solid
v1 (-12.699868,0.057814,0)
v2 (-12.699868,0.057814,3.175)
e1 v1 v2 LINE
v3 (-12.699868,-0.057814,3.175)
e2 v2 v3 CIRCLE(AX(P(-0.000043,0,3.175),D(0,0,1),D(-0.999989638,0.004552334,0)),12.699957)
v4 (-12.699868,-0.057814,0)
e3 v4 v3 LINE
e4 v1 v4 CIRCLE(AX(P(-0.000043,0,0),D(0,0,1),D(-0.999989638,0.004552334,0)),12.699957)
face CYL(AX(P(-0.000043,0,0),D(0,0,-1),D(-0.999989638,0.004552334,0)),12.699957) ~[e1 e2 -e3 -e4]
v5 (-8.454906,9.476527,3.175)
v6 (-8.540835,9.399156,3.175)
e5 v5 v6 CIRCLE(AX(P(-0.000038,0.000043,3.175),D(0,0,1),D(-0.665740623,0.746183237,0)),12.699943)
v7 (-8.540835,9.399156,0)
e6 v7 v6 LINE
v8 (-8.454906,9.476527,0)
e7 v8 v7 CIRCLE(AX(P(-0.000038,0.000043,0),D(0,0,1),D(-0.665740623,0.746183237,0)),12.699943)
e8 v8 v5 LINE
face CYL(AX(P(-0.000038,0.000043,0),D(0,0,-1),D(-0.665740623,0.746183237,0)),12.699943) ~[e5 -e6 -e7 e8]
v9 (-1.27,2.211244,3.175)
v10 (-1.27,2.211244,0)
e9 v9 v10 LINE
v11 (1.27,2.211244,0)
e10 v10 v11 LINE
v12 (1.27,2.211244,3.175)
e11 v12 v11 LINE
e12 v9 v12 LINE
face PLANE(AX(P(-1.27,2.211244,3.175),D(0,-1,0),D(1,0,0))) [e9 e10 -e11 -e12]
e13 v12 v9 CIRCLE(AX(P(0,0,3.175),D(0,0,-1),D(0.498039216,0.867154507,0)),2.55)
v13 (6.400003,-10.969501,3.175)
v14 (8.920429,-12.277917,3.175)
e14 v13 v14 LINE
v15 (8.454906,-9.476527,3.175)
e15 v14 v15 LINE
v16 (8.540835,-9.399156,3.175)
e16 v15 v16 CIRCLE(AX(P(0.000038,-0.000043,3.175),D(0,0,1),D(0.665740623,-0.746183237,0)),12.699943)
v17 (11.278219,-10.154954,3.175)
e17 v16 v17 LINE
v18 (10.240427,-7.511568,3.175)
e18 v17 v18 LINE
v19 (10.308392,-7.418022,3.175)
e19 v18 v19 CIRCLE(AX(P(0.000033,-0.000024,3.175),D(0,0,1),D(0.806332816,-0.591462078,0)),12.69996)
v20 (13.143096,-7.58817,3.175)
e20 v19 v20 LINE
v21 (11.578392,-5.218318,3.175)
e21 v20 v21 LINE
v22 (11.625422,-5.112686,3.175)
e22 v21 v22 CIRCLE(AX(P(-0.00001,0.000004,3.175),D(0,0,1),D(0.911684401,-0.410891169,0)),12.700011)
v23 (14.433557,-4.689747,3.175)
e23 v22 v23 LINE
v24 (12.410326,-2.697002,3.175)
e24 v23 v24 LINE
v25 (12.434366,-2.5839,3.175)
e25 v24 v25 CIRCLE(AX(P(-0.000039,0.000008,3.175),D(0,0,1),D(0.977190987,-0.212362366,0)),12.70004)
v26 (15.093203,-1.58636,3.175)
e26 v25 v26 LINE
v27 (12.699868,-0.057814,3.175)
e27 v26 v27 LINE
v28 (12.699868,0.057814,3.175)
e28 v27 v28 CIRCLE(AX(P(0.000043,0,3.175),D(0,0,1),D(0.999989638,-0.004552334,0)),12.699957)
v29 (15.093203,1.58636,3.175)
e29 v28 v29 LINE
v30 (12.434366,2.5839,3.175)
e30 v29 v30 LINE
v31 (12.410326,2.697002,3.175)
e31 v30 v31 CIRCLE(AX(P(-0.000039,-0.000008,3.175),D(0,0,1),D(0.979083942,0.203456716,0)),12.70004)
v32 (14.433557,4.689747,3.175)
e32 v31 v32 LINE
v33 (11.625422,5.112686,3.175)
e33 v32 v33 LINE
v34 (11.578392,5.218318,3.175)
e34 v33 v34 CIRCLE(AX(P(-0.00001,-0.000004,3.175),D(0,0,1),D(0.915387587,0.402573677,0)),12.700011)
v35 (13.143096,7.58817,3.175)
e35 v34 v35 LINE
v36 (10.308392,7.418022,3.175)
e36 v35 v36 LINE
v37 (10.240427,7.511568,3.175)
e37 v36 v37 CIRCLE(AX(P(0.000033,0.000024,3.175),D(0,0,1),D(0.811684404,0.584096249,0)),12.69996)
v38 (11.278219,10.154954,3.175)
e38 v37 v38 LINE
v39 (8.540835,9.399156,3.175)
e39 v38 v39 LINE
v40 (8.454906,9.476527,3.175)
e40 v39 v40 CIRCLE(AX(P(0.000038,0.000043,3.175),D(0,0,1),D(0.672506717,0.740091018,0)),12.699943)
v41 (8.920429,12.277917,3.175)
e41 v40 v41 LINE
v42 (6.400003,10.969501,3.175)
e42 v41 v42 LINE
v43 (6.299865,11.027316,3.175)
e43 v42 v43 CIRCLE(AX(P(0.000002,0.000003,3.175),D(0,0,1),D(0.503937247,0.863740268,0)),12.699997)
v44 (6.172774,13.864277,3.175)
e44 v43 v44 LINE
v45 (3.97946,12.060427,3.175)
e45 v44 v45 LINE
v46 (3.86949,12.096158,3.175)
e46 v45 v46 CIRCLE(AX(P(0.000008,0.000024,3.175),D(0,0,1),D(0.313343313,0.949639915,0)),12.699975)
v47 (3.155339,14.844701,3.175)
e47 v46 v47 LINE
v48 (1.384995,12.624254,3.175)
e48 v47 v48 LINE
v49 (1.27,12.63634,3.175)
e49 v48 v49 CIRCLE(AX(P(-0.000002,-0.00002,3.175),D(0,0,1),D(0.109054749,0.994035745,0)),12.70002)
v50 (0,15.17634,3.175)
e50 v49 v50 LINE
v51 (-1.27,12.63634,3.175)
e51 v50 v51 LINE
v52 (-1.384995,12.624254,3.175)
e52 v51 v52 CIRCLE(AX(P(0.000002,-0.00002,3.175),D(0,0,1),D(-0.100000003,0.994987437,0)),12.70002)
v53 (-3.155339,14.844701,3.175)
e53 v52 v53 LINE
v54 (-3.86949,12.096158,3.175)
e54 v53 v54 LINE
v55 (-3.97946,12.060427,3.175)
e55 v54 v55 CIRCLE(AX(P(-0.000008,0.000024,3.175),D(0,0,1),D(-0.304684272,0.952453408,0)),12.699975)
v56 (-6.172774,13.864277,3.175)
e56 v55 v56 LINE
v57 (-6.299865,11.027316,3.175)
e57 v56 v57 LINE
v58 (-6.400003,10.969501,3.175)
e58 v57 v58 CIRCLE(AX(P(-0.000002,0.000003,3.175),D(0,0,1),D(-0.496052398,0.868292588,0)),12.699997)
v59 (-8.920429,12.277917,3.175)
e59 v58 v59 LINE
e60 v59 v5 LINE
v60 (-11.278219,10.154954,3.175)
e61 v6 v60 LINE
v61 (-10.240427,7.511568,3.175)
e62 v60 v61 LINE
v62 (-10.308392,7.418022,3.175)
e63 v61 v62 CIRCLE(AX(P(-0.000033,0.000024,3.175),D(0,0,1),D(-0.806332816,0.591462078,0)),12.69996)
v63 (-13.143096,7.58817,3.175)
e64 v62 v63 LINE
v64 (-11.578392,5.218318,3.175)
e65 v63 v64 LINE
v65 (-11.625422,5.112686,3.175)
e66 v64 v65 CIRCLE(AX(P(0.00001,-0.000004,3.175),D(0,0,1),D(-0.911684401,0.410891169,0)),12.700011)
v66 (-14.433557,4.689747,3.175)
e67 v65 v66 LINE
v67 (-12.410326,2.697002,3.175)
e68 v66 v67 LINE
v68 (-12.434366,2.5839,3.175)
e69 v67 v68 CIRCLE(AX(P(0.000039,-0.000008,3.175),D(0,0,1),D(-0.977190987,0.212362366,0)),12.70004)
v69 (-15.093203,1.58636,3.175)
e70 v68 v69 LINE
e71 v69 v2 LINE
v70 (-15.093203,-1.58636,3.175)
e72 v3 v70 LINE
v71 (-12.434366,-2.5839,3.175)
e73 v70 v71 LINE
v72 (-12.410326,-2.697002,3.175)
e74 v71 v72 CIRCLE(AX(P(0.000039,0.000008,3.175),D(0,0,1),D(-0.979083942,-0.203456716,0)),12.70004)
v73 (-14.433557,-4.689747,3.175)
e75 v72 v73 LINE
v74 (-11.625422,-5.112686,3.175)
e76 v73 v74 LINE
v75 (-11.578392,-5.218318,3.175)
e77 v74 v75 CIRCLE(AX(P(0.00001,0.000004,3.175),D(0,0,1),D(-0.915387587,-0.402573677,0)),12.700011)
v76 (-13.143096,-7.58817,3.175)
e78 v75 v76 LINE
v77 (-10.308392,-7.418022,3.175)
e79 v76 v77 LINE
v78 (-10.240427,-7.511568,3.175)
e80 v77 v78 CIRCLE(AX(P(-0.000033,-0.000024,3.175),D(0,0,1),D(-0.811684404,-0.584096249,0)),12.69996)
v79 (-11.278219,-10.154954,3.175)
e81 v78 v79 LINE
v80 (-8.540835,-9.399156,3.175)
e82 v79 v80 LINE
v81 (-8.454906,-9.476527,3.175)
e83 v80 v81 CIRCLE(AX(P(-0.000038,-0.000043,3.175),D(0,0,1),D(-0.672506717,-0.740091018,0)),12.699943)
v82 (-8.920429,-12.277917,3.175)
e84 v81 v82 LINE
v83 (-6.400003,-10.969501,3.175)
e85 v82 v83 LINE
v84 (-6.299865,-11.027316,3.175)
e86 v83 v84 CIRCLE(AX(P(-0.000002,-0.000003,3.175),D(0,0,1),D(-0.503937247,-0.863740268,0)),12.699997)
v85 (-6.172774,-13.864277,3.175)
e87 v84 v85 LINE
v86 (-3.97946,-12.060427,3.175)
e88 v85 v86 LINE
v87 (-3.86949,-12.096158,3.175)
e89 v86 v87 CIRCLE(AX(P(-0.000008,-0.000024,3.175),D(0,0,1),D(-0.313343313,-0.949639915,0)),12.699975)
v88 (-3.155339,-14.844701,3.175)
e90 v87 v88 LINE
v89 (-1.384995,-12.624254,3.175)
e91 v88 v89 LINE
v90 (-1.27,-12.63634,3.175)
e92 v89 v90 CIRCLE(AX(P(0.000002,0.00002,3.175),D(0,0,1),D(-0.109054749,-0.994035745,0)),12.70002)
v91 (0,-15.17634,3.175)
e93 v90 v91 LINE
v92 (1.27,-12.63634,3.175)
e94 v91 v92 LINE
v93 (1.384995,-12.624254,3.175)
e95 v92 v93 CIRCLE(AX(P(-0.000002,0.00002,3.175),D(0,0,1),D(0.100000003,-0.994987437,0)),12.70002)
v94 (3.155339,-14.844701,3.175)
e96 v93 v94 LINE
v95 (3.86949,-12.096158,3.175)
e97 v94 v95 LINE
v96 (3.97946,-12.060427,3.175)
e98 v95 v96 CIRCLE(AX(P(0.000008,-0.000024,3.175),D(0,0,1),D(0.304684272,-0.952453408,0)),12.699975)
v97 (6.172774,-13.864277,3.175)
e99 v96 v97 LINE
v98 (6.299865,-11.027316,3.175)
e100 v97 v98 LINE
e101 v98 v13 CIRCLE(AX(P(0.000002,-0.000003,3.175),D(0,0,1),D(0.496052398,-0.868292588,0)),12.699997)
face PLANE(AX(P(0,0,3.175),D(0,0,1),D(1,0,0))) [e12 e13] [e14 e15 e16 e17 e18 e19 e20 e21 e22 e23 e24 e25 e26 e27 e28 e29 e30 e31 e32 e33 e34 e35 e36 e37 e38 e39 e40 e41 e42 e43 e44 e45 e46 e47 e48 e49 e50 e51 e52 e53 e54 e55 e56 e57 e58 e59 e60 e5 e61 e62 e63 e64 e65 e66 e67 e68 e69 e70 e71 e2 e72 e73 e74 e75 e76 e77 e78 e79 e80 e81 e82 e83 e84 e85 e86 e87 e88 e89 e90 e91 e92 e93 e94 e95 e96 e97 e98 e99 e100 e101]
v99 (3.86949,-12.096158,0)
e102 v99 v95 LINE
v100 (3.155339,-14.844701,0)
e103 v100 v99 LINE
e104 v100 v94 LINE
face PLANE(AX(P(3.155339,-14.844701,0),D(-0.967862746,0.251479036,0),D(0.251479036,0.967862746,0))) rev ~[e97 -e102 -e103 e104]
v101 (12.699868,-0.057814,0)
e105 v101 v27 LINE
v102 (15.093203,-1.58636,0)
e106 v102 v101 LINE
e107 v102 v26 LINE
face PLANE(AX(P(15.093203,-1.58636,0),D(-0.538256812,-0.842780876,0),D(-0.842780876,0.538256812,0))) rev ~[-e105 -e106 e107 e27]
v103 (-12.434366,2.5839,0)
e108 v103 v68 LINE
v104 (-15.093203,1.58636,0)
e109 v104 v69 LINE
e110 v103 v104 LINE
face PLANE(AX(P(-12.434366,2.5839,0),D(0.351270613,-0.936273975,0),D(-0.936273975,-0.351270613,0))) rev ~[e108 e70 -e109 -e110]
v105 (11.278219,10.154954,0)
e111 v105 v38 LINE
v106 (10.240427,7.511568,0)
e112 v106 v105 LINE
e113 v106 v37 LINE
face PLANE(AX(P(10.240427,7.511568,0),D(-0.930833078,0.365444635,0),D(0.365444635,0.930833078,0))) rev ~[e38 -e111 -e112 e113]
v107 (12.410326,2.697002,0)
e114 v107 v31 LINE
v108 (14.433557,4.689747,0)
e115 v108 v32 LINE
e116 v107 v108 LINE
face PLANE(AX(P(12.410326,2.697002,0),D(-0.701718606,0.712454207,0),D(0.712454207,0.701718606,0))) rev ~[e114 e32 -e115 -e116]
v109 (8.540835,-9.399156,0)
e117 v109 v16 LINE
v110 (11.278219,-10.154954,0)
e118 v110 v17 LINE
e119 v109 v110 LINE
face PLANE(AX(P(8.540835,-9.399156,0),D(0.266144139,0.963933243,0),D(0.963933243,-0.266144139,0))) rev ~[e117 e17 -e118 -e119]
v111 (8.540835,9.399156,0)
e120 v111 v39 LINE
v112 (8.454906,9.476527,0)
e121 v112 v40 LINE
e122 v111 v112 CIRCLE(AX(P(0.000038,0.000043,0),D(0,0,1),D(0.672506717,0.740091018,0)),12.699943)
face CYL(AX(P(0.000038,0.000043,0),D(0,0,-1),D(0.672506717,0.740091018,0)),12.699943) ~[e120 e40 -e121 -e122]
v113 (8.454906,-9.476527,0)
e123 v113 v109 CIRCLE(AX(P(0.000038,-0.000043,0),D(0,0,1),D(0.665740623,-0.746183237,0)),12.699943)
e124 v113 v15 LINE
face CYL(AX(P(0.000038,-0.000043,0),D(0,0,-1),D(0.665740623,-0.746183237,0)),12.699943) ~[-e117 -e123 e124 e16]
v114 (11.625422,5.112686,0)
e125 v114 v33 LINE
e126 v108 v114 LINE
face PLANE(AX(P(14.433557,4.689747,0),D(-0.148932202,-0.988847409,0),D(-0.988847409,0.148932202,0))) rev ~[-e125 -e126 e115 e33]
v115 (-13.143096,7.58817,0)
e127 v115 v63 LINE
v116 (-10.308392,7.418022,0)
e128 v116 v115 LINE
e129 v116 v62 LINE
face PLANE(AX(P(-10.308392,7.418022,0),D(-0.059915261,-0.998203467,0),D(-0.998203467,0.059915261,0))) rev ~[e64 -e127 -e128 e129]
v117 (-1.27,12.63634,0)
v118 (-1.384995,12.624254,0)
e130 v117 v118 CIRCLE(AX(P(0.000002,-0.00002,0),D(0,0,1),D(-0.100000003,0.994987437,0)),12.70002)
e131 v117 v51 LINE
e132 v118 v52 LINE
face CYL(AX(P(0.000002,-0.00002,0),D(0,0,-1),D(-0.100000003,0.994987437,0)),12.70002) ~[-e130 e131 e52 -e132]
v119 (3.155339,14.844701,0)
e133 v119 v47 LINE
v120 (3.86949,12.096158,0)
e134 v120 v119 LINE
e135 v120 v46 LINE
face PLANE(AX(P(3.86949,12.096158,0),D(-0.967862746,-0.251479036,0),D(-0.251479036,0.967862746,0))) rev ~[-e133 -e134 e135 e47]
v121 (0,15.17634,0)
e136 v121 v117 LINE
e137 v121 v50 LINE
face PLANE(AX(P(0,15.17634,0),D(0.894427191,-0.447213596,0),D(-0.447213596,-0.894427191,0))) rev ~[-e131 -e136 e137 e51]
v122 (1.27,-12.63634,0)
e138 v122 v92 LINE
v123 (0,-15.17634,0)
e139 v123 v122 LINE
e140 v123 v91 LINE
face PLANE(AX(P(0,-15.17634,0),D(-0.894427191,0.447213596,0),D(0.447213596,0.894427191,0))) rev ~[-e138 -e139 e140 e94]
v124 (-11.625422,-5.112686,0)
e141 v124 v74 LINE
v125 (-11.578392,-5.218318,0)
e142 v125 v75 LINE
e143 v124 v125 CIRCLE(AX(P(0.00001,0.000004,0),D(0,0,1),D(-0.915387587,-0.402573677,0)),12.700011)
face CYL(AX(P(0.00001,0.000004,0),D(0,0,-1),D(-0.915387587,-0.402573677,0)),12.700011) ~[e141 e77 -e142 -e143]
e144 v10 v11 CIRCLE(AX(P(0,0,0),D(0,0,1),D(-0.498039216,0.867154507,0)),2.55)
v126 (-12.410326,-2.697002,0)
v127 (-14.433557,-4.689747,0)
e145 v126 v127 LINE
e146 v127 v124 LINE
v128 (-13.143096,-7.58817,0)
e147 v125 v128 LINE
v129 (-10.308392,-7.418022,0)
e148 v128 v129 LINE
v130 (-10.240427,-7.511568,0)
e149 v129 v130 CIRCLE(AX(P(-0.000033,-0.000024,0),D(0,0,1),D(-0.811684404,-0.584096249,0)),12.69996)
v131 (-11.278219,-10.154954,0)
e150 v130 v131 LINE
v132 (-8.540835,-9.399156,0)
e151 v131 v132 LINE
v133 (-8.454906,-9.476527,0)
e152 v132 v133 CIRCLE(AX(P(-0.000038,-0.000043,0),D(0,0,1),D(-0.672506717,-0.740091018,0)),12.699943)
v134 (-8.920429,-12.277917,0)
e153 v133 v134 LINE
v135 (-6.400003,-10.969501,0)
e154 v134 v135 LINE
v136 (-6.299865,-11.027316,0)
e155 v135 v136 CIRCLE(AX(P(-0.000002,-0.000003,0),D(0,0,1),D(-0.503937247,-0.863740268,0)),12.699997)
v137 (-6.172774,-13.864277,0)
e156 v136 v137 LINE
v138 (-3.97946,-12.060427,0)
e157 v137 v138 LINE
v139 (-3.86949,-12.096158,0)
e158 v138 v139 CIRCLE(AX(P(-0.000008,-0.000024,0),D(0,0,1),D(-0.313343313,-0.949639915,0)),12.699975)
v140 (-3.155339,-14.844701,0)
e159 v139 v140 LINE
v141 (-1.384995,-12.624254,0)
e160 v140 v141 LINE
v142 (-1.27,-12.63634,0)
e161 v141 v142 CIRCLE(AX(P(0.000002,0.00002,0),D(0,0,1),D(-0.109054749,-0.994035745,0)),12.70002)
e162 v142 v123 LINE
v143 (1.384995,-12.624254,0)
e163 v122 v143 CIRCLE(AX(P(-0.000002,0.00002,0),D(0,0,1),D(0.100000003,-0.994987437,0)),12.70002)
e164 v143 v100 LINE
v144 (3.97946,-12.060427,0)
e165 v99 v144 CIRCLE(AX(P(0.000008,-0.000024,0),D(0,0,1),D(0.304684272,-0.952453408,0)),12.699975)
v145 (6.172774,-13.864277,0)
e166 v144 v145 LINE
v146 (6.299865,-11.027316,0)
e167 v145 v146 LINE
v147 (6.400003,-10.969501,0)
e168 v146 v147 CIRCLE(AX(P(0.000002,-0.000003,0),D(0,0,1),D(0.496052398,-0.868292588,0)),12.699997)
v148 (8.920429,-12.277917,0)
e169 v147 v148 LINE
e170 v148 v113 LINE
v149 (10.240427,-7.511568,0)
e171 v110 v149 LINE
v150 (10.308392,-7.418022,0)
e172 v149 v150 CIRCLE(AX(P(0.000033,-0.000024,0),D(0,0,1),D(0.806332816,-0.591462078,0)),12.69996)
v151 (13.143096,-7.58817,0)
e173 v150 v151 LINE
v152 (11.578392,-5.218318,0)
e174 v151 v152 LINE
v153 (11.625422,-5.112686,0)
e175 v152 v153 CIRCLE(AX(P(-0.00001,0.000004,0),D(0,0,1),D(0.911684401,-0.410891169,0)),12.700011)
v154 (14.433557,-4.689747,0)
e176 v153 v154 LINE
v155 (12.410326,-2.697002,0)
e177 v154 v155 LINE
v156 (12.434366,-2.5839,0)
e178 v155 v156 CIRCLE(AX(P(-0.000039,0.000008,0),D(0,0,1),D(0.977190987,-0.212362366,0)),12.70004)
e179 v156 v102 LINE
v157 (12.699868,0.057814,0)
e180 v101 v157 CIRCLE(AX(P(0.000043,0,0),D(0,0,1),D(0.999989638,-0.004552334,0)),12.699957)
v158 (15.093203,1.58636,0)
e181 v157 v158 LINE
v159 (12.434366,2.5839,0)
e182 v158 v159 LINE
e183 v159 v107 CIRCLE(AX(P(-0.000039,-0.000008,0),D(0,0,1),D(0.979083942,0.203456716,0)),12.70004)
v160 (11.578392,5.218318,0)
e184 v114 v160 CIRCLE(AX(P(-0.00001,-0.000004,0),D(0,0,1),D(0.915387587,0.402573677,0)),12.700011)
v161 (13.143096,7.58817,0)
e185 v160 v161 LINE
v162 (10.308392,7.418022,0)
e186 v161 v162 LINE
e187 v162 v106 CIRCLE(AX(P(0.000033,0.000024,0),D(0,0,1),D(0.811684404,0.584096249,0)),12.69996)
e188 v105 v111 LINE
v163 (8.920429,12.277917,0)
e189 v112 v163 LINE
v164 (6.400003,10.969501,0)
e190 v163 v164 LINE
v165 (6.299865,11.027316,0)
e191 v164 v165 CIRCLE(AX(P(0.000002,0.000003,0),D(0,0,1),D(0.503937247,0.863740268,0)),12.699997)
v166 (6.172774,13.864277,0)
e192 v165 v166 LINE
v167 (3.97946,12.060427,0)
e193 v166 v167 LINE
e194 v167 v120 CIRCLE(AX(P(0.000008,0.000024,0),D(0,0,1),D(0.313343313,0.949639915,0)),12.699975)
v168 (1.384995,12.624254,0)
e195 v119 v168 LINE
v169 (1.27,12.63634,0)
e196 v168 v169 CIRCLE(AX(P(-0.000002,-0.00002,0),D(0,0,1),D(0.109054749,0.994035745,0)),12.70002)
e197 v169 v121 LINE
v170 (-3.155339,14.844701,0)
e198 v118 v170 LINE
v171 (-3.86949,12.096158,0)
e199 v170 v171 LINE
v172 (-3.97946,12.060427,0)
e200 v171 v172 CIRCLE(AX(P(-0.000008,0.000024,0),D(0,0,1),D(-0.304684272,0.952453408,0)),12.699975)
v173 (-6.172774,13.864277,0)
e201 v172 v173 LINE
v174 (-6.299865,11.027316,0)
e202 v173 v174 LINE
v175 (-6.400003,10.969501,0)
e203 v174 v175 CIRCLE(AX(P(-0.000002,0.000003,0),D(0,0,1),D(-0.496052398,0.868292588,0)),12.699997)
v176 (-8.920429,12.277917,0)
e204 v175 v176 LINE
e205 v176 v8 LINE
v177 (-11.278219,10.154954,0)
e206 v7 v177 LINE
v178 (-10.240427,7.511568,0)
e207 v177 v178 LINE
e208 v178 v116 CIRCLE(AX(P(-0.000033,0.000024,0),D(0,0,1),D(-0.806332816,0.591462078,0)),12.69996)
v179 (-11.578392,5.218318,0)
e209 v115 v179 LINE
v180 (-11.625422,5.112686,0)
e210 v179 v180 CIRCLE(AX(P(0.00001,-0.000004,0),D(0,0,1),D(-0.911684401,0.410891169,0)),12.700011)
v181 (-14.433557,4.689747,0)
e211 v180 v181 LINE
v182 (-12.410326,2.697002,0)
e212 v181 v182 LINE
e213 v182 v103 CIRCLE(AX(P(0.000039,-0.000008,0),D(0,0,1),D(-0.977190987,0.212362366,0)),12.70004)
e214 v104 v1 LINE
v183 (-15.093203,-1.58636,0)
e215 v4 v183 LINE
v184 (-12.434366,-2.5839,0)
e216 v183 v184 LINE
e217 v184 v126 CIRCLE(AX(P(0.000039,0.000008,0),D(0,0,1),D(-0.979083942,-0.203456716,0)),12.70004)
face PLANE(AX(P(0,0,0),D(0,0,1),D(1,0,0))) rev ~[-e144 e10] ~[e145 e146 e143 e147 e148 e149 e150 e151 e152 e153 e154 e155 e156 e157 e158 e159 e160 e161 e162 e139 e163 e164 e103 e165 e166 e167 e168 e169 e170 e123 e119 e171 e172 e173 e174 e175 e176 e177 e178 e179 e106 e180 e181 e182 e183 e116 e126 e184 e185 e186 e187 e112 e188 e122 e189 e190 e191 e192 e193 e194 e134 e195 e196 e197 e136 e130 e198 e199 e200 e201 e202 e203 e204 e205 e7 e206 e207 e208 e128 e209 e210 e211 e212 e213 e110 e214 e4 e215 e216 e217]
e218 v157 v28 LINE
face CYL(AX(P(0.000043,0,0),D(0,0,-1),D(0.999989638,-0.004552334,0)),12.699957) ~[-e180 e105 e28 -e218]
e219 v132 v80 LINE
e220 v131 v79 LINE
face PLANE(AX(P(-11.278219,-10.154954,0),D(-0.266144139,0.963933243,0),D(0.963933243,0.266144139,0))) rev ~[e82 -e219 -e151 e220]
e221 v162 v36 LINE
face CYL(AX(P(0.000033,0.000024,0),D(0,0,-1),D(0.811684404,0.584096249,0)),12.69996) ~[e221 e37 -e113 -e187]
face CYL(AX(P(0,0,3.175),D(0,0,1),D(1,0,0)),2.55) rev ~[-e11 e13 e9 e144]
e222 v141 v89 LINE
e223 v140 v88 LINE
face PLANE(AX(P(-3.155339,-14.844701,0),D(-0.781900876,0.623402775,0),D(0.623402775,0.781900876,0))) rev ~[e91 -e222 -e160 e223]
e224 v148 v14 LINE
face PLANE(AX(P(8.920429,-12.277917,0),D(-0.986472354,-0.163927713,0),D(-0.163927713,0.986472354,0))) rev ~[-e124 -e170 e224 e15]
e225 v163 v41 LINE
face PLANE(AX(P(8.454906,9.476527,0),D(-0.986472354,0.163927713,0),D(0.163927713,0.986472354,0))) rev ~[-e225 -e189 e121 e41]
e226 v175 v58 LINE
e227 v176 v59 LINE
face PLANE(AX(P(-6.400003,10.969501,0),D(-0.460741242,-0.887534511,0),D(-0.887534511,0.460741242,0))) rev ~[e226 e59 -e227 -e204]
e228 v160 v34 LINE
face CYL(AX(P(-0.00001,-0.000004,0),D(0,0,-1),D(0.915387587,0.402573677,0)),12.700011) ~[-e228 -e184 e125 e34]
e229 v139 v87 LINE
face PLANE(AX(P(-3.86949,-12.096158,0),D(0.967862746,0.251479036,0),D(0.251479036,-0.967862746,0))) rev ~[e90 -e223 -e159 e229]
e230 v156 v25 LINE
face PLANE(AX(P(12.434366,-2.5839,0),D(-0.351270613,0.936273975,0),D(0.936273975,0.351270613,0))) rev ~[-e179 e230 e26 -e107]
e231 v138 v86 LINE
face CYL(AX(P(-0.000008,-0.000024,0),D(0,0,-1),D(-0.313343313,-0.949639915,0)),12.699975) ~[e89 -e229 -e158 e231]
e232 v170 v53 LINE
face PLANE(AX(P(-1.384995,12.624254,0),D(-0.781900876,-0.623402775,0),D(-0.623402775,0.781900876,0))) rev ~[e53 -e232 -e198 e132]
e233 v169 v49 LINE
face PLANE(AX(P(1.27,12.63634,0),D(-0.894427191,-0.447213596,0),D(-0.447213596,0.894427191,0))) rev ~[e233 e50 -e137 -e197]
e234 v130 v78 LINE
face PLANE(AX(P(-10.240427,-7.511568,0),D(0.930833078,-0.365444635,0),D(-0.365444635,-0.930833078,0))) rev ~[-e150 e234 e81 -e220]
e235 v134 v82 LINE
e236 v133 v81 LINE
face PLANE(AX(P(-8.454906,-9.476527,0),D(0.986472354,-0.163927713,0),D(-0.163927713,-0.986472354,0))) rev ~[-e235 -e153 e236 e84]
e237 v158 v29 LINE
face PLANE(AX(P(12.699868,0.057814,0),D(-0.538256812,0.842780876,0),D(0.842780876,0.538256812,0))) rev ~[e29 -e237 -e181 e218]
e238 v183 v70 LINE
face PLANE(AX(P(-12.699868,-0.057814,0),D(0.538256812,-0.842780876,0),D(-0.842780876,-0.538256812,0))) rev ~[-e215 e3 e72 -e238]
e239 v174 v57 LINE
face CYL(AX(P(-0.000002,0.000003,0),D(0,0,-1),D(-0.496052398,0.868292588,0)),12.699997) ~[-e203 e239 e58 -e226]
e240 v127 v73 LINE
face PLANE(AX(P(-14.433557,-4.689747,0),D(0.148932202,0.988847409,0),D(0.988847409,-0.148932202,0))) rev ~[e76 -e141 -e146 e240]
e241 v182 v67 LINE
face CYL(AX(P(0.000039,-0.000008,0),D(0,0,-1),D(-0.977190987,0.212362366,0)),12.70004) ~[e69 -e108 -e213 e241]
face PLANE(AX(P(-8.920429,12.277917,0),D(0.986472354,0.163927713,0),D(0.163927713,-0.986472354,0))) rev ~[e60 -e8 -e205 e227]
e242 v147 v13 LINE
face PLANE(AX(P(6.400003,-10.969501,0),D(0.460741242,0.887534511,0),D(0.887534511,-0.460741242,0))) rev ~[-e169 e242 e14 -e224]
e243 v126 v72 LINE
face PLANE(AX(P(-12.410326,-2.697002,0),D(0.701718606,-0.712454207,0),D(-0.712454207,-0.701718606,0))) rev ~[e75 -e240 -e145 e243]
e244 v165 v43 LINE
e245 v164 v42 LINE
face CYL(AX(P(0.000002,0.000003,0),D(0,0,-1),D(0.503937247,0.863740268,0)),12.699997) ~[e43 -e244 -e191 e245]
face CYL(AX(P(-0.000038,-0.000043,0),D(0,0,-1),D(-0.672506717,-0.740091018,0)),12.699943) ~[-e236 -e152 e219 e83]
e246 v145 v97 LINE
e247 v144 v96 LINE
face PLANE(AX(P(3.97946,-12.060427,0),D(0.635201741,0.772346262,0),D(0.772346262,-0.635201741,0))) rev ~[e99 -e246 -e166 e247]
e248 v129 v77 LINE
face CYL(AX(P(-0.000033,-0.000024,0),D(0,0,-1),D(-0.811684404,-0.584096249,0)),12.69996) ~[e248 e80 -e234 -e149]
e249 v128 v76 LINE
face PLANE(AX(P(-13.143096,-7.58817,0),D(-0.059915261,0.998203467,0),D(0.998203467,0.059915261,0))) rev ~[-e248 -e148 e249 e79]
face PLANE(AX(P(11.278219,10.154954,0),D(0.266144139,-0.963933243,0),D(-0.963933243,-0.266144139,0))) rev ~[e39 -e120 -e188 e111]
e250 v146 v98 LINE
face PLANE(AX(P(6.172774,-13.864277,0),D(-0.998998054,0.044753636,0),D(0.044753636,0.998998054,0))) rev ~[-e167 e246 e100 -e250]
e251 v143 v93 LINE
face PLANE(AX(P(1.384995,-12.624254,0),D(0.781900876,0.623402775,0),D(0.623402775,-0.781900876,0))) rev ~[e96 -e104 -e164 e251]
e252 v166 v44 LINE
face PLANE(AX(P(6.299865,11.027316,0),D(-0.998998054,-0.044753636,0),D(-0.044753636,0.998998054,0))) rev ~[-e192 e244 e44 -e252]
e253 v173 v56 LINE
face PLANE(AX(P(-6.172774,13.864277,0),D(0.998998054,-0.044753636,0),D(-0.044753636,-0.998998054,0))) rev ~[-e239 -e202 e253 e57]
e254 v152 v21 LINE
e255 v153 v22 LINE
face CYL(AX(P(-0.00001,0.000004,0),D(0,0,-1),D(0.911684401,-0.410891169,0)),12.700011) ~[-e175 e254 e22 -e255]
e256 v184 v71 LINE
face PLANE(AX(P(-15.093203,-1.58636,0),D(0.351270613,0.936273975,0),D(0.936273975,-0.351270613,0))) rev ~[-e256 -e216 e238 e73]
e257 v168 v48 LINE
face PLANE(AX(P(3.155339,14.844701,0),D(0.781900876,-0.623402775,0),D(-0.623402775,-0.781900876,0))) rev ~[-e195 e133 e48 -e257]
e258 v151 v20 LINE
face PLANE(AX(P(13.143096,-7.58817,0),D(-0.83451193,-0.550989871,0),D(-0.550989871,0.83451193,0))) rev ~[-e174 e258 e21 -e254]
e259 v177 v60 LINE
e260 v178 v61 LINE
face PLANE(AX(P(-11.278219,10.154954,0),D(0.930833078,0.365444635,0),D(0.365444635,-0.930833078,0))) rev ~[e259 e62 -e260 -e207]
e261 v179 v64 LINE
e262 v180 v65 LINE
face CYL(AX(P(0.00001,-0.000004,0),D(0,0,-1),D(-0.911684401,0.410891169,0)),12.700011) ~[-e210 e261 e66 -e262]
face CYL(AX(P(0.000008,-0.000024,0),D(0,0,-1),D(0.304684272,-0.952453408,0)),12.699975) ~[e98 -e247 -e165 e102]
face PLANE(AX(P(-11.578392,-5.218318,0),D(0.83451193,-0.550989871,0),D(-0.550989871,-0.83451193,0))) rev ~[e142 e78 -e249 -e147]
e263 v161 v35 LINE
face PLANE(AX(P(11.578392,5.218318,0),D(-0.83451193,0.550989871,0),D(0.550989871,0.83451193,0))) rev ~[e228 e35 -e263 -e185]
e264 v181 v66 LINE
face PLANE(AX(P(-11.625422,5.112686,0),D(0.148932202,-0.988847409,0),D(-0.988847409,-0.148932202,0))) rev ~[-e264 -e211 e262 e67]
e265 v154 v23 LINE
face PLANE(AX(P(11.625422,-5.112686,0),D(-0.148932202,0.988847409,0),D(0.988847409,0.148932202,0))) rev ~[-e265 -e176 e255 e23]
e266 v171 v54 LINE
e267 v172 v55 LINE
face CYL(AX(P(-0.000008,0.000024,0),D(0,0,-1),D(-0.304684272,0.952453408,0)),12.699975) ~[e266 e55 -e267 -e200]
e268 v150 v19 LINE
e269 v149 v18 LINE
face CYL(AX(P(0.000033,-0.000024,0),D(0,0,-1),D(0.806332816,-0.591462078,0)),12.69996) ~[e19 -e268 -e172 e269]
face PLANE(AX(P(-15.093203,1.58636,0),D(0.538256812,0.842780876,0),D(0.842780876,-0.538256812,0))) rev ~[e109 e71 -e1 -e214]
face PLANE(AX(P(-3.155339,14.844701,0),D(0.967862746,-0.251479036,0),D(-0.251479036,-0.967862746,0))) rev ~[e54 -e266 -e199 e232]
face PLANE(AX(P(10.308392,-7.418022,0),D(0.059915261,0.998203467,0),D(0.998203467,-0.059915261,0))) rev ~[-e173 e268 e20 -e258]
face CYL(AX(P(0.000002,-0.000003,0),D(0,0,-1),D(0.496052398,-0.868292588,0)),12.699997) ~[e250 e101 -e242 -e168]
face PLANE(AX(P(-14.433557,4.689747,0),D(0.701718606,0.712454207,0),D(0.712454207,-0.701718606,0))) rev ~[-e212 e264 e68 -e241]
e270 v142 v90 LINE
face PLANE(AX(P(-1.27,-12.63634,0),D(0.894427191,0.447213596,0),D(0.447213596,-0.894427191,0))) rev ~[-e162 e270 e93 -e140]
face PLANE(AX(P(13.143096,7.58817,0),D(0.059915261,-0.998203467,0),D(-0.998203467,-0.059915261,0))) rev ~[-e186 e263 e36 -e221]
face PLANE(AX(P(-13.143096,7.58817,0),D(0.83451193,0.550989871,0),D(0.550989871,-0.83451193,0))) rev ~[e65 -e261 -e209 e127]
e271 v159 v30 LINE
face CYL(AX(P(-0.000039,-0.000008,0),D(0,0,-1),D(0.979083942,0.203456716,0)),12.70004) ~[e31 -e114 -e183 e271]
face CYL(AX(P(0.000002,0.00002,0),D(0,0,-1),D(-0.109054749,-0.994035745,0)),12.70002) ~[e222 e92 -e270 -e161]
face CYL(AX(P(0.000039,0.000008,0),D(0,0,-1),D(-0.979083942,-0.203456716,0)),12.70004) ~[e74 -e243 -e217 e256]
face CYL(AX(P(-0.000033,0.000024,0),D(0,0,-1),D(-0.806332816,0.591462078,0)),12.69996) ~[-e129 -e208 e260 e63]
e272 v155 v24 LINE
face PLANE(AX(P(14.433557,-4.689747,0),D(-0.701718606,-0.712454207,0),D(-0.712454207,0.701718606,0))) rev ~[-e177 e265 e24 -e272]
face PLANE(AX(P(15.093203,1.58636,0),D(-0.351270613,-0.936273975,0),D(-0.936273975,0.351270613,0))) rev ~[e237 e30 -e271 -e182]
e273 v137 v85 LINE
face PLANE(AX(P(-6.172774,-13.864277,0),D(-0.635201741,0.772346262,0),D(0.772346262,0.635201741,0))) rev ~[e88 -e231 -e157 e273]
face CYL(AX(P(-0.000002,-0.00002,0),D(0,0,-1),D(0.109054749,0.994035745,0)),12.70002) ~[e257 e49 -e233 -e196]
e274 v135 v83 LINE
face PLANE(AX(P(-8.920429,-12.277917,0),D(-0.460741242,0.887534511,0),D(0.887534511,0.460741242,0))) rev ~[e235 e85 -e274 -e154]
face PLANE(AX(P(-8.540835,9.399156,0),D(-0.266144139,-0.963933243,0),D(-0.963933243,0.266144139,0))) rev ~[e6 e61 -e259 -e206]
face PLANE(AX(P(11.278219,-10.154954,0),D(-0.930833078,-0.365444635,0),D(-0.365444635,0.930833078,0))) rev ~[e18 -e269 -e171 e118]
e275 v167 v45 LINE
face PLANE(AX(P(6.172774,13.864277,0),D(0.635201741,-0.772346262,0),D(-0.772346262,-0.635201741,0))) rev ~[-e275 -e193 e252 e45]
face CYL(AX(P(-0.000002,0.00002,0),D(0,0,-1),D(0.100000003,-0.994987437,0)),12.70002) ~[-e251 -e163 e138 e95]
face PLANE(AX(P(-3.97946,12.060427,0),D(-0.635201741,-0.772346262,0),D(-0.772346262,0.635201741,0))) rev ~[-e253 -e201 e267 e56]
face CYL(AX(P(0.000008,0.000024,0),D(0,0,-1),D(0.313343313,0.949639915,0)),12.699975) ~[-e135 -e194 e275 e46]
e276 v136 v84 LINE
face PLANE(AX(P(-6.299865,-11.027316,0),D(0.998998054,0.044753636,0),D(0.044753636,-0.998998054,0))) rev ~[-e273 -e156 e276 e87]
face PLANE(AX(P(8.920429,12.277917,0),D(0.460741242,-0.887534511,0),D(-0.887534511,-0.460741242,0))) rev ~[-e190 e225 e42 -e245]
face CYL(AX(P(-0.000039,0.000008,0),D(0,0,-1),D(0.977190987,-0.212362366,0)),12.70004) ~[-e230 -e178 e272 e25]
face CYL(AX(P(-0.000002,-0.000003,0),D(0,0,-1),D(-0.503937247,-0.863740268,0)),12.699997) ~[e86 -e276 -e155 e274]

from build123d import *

# Parameters (mm, degrees)
BOSS_EXTRUDE1_DEPTH = 3.175
SKETCH2_R           = 2.55
CUT_EXTRUDE1_DEPTH  = 4.175
BOSS_EXTRUDE2_DEPTH = 3.175


with BuildPart() as part:
    # Sketch1 → Boss-Extrude1 (new body)
    with BuildSketch(Plane.XY):
        with BuildLine():
            Line((1.27, 12.636340451), (0, 15.176340451))
            Line((0, 15.176340451), (-1.27, 12.636340451))
            ThreePointArc((-1.27, 12.636340451), (-1.327511483, 12.630428071), (-1.384995456, 12.624253942))
            Line((-1.384995456, 12.624253942), (-3.155338604, 14.844701))
            Line((-3.155338604, 14.844701), (-3.869490362, 12.096158247))
            ThreePointArc((-3.869490362, 12.096158247), (-3.924515829, 12.078417757), (-3.979459965, 12.060426957))
            Line((-3.979459965, 12.060426957), (-6.172773769, 13.864276883))
            Line((-6.172773769, 13.864276883), (-6.299865427, 11.027315884))
            ThreePointArc((-6.299865427, 11.027315884), (-6.35, 10.998522628), (-6.400002977, 10.969501442))
            Line((-6.400002977, 10.969501442), (-8.920429101, 12.277917337))
            Line((-8.920429101, 12.277917337), (-8.454906143, 9.476526901))
            ThreePointArc((-8.454906143, 9.476526901), (-8.497958701, 9.437939284), (-8.540835149, 9.399156077))
            Line((-8.540835149, 9.399156077), (-11.278218876, 10.154953888))
            Line((-11.278218876, 10.154953888), (-10.240426889, 7.51156822))
            ThreePointArc((-10.240426889, 7.51156822), (-10.274515829, 7.464872704), (-10.308391842, 7.418022488))
            Line((-10.308391842, 7.418022488), (-13.143096367, 7.588170226))
            Line((-13.143096367, 7.588170226), (-11.578391842, 5.218317963))
            ThreePointArc((-11.578391842, 5.218317963), (-11.602027312, 5.165555367), (-11.625422345, 5.112685722))
            Line((-11.625422345, 5.112685722), (-14.43355748, 4.689747112))
            Line((-14.43355748, 4.689747112), (-12.410325511, 2.69700217))
            ThreePointArc((-12.410325511, 2.69700217), (-12.422474529, 2.640478473), (-12.434366108, 2.583900056))
            Line((-12.434366108, 2.583900056), (-15.09320287, 1.586359545))
            Line((-15.09320287, 1.586359545), (-12.699868404, 0.057814442))
            ThreePointArc((-12.699868404, 0.057814442), (-12.7, 0), (-12.699868404, -0.057814442))
            Line((-12.699868404, -0.057814442), (-15.09320287, -1.586359545))
            Line((-15.09320287, -1.586359545), (-12.434366108, -2.583900056))
            ThreePointArc((-12.434366108, -2.583900056), (-12.422474529, -2.640478473), (-12.410325511, -2.69700217))
            Line((-12.410325511, -2.69700217), (-14.43355748, -4.689747112))
            Line((-14.43355748, -4.689747112), (-11.625422345, -5.112685722))
            ThreePointArc((-11.625422345, -5.112685722), (-11.602027312, -5.165555367), (-11.578391842, -5.218317963))
            Line((-11.578391842, -5.218317963), (-13.143096367, -7.588170226))
            Line((-13.143096367, -7.588170226), (-10.308391842, -7.418022488))
            ThreePointArc((-10.308391842, -7.418022488), (-10.274515829, -7.464872704), (-10.240426889, -7.51156822))
            Line((-10.240426889, -7.51156822), (-11.278218876, -10.154953888))
            Line((-11.278218876, -10.154953888), (-8.540835149, -9.399156077))
            ThreePointArc((-8.540835149, -9.399156077), (-8.497958701, -9.437939284), (-8.454906143, -9.476526901))
            Line((-8.454906143, -9.476526901), (-8.920429101, -12.277917337))
            Line((-8.920429101, -12.277917337), (-6.400002977, -10.969501442))
            ThreePointArc((-6.400002977, -10.969501442), (-6.35, -10.998522628), (-6.299865427, -11.027315884))
            Line((-6.299865427, -11.027315884), (-6.172773769, -13.864276883))
            Line((-6.172773769, -13.864276883), (-3.979459965, -12.060426957))
            ThreePointArc((-3.979459965, -12.060426957), (-3.924515829, -12.078417757), (-3.869490362, -12.096158247))
            Line((-3.869490362, -12.096158247), (-3.155338604, -14.844701))
            Line((-3.155338604, -14.844701), (-1.384995456, -12.624253942))
            ThreePointArc((-1.384995456, -12.624253942), (-1.327511483, -12.630428071), (-1.27, -12.636340451))
            Line((-1.27, -12.636340451), (0, -15.176340451))
            Line((0, -15.176340451), (1.27, -12.636340451))
            ThreePointArc((1.27, -12.636340451), (1.327511483, -12.630428071), (1.384995456, -12.624253942))
            Line((1.384995456, -12.624253942), (3.155338604, -14.844701))
            Line((3.155338604, -14.844701), (3.869490362, -12.096158247))
            ThreePointArc((3.869490362, -12.096158247), (3.924515829, -12.078417757), (3.979459965, -12.060426957))
            Line((3.979459965, -12.060426957), (6.172773769, -13.864276883))
            Line((6.172773769, -13.864276883), (6.299865427, -11.027315884))
            ThreePointArc((6.299865427, -11.027315884), (6.35, -10.998522628), (6.400002977, -10.969501442))
            Line((6.400002977, -10.969501442), (8.920429101, -12.277917337))
            Line((8.920429101, -12.277917337), (8.454906143, -9.476526901))
            ThreePointArc((8.454906143, -9.476526901), (8.497958701, -9.437939284), (8.540835149, -9.399156077))
            Line((8.540835149, -9.399156077), (11.278218876, -10.154953888))
            Line((11.278218876, -10.154953888), (10.240426889, -7.51156822))
            ThreePointArc((10.240426889, -7.51156822), (10.274515829, -7.464872704), (10.308391842, -7.418022488))
            Line((10.308391842, -7.418022488), (13.143096367, -7.588170226))
            Line((13.143096367, -7.588170226), (11.578391842, -5.218317963))
            ThreePointArc((11.578391842, -5.218317963), (11.602027312, -5.165555367), (11.625422345, -5.112685722))
            Line((11.625422345, -5.112685722), (14.43355748, -4.689747112))
            Line((14.43355748, -4.689747112), (12.410325511, -2.69700217))
            ThreePointArc((12.410325511, -2.69700217), (12.422474529, -2.640478473), (12.434366108, -2.583900056))
            Line((12.434366108, -2.583900056), (15.09320287, -1.586359545))
            Line((15.09320287, -1.586359545), (12.699868404, -0.057814442))
            ThreePointArc((12.699868404, -0.057814442), (12.7, 0), (12.699868404, 0.057814442))
            Line((12.699868404, 0.057814442), (15.09320287, 1.586359545))
            Line((15.09320287, 1.586359545), (12.434366108, 2.583900056))
            ThreePointArc((12.434366108, 2.583900056), (12.422474529, 2.640478473), (12.410325511, 2.69700217))
            Line((12.410325511, 2.69700217), (14.43355748, 4.689747112))
            Line((14.43355748, 4.689747112), (11.625422345, 5.112685722))
            ThreePointArc((11.625422345, 5.112685722), (11.602027312, 5.165555367), (11.578391842, 5.218317963))
            Line((11.578391842, 5.218317963), (13.143096367, 7.588170226))
            Line((13.143096367, 7.588170226), (10.308391842, 7.418022488))
            ThreePointArc((10.308391842, 7.418022488), (10.274515829, 7.464872704), (10.240426889, 7.51156822))
            Line((10.240426889, 7.51156822), (11.278218876, 10.154953888))
            Line((11.278218876, 10.154953888), (8.540835149, 9.399156077))
            ThreePointArc((8.540835149, 9.399156077), (8.497958701, 9.437939284), (8.454906143, 9.476526901))
            Line((8.454906143, 9.476526901), (8.920429101, 12.277917337))
            Line((8.920429101, 12.277917337), (6.400002977, 10.969501442))
            ThreePointArc((6.400002977, 10.969501442), (6.35, 10.998522628), (6.299865427, 11.027315884))
            Line((6.299865427, 11.027315884), (6.172773769, 13.864276883))
            Line((6.172773769, 13.864276883), (3.979459965, 12.060426957))
            ThreePointArc((3.979459965, 12.060426957), (3.924515829, 12.078417757), (3.869490362, 12.096158247))
            Line((3.869490362, 12.096158247), (3.155338604, 14.844701))
            Line((3.155338604, 14.844701), (1.384995456, 12.624253942))
            ThreePointArc((1.384995456, 12.624253942), (1.327511483, 12.630428071), (1.27, 12.636340451))
        make_face()
    extrude(amount=BOSS_EXTRUDE1_DEPTH)

    # Sketch2 → Cut-Extrude1 (cut, through all)
    with BuildSketch(Plane.XY.offset(3.175)):
        Circle(SKETCH2_R)
    extrude(amount=-CUT_EXTRUDE1_DEPTH, mode=Mode.SUBTRACT)

    # Sketch3 → Boss-Extrude2 (add, through all)
    with BuildSketch(Plane.XY.offset(3.175)):
        with BuildLine():
            Line((-1.27, 2.211243994), (1.27, 2.211243994))
            ThreePointArc((1.27, 2.211243994), (0, 2.55), (-1.27, 2.211243994))
        make_face()
    extrude(amount=-BOSS_EXTRUDE2_DEPTH)


solid = part.part
